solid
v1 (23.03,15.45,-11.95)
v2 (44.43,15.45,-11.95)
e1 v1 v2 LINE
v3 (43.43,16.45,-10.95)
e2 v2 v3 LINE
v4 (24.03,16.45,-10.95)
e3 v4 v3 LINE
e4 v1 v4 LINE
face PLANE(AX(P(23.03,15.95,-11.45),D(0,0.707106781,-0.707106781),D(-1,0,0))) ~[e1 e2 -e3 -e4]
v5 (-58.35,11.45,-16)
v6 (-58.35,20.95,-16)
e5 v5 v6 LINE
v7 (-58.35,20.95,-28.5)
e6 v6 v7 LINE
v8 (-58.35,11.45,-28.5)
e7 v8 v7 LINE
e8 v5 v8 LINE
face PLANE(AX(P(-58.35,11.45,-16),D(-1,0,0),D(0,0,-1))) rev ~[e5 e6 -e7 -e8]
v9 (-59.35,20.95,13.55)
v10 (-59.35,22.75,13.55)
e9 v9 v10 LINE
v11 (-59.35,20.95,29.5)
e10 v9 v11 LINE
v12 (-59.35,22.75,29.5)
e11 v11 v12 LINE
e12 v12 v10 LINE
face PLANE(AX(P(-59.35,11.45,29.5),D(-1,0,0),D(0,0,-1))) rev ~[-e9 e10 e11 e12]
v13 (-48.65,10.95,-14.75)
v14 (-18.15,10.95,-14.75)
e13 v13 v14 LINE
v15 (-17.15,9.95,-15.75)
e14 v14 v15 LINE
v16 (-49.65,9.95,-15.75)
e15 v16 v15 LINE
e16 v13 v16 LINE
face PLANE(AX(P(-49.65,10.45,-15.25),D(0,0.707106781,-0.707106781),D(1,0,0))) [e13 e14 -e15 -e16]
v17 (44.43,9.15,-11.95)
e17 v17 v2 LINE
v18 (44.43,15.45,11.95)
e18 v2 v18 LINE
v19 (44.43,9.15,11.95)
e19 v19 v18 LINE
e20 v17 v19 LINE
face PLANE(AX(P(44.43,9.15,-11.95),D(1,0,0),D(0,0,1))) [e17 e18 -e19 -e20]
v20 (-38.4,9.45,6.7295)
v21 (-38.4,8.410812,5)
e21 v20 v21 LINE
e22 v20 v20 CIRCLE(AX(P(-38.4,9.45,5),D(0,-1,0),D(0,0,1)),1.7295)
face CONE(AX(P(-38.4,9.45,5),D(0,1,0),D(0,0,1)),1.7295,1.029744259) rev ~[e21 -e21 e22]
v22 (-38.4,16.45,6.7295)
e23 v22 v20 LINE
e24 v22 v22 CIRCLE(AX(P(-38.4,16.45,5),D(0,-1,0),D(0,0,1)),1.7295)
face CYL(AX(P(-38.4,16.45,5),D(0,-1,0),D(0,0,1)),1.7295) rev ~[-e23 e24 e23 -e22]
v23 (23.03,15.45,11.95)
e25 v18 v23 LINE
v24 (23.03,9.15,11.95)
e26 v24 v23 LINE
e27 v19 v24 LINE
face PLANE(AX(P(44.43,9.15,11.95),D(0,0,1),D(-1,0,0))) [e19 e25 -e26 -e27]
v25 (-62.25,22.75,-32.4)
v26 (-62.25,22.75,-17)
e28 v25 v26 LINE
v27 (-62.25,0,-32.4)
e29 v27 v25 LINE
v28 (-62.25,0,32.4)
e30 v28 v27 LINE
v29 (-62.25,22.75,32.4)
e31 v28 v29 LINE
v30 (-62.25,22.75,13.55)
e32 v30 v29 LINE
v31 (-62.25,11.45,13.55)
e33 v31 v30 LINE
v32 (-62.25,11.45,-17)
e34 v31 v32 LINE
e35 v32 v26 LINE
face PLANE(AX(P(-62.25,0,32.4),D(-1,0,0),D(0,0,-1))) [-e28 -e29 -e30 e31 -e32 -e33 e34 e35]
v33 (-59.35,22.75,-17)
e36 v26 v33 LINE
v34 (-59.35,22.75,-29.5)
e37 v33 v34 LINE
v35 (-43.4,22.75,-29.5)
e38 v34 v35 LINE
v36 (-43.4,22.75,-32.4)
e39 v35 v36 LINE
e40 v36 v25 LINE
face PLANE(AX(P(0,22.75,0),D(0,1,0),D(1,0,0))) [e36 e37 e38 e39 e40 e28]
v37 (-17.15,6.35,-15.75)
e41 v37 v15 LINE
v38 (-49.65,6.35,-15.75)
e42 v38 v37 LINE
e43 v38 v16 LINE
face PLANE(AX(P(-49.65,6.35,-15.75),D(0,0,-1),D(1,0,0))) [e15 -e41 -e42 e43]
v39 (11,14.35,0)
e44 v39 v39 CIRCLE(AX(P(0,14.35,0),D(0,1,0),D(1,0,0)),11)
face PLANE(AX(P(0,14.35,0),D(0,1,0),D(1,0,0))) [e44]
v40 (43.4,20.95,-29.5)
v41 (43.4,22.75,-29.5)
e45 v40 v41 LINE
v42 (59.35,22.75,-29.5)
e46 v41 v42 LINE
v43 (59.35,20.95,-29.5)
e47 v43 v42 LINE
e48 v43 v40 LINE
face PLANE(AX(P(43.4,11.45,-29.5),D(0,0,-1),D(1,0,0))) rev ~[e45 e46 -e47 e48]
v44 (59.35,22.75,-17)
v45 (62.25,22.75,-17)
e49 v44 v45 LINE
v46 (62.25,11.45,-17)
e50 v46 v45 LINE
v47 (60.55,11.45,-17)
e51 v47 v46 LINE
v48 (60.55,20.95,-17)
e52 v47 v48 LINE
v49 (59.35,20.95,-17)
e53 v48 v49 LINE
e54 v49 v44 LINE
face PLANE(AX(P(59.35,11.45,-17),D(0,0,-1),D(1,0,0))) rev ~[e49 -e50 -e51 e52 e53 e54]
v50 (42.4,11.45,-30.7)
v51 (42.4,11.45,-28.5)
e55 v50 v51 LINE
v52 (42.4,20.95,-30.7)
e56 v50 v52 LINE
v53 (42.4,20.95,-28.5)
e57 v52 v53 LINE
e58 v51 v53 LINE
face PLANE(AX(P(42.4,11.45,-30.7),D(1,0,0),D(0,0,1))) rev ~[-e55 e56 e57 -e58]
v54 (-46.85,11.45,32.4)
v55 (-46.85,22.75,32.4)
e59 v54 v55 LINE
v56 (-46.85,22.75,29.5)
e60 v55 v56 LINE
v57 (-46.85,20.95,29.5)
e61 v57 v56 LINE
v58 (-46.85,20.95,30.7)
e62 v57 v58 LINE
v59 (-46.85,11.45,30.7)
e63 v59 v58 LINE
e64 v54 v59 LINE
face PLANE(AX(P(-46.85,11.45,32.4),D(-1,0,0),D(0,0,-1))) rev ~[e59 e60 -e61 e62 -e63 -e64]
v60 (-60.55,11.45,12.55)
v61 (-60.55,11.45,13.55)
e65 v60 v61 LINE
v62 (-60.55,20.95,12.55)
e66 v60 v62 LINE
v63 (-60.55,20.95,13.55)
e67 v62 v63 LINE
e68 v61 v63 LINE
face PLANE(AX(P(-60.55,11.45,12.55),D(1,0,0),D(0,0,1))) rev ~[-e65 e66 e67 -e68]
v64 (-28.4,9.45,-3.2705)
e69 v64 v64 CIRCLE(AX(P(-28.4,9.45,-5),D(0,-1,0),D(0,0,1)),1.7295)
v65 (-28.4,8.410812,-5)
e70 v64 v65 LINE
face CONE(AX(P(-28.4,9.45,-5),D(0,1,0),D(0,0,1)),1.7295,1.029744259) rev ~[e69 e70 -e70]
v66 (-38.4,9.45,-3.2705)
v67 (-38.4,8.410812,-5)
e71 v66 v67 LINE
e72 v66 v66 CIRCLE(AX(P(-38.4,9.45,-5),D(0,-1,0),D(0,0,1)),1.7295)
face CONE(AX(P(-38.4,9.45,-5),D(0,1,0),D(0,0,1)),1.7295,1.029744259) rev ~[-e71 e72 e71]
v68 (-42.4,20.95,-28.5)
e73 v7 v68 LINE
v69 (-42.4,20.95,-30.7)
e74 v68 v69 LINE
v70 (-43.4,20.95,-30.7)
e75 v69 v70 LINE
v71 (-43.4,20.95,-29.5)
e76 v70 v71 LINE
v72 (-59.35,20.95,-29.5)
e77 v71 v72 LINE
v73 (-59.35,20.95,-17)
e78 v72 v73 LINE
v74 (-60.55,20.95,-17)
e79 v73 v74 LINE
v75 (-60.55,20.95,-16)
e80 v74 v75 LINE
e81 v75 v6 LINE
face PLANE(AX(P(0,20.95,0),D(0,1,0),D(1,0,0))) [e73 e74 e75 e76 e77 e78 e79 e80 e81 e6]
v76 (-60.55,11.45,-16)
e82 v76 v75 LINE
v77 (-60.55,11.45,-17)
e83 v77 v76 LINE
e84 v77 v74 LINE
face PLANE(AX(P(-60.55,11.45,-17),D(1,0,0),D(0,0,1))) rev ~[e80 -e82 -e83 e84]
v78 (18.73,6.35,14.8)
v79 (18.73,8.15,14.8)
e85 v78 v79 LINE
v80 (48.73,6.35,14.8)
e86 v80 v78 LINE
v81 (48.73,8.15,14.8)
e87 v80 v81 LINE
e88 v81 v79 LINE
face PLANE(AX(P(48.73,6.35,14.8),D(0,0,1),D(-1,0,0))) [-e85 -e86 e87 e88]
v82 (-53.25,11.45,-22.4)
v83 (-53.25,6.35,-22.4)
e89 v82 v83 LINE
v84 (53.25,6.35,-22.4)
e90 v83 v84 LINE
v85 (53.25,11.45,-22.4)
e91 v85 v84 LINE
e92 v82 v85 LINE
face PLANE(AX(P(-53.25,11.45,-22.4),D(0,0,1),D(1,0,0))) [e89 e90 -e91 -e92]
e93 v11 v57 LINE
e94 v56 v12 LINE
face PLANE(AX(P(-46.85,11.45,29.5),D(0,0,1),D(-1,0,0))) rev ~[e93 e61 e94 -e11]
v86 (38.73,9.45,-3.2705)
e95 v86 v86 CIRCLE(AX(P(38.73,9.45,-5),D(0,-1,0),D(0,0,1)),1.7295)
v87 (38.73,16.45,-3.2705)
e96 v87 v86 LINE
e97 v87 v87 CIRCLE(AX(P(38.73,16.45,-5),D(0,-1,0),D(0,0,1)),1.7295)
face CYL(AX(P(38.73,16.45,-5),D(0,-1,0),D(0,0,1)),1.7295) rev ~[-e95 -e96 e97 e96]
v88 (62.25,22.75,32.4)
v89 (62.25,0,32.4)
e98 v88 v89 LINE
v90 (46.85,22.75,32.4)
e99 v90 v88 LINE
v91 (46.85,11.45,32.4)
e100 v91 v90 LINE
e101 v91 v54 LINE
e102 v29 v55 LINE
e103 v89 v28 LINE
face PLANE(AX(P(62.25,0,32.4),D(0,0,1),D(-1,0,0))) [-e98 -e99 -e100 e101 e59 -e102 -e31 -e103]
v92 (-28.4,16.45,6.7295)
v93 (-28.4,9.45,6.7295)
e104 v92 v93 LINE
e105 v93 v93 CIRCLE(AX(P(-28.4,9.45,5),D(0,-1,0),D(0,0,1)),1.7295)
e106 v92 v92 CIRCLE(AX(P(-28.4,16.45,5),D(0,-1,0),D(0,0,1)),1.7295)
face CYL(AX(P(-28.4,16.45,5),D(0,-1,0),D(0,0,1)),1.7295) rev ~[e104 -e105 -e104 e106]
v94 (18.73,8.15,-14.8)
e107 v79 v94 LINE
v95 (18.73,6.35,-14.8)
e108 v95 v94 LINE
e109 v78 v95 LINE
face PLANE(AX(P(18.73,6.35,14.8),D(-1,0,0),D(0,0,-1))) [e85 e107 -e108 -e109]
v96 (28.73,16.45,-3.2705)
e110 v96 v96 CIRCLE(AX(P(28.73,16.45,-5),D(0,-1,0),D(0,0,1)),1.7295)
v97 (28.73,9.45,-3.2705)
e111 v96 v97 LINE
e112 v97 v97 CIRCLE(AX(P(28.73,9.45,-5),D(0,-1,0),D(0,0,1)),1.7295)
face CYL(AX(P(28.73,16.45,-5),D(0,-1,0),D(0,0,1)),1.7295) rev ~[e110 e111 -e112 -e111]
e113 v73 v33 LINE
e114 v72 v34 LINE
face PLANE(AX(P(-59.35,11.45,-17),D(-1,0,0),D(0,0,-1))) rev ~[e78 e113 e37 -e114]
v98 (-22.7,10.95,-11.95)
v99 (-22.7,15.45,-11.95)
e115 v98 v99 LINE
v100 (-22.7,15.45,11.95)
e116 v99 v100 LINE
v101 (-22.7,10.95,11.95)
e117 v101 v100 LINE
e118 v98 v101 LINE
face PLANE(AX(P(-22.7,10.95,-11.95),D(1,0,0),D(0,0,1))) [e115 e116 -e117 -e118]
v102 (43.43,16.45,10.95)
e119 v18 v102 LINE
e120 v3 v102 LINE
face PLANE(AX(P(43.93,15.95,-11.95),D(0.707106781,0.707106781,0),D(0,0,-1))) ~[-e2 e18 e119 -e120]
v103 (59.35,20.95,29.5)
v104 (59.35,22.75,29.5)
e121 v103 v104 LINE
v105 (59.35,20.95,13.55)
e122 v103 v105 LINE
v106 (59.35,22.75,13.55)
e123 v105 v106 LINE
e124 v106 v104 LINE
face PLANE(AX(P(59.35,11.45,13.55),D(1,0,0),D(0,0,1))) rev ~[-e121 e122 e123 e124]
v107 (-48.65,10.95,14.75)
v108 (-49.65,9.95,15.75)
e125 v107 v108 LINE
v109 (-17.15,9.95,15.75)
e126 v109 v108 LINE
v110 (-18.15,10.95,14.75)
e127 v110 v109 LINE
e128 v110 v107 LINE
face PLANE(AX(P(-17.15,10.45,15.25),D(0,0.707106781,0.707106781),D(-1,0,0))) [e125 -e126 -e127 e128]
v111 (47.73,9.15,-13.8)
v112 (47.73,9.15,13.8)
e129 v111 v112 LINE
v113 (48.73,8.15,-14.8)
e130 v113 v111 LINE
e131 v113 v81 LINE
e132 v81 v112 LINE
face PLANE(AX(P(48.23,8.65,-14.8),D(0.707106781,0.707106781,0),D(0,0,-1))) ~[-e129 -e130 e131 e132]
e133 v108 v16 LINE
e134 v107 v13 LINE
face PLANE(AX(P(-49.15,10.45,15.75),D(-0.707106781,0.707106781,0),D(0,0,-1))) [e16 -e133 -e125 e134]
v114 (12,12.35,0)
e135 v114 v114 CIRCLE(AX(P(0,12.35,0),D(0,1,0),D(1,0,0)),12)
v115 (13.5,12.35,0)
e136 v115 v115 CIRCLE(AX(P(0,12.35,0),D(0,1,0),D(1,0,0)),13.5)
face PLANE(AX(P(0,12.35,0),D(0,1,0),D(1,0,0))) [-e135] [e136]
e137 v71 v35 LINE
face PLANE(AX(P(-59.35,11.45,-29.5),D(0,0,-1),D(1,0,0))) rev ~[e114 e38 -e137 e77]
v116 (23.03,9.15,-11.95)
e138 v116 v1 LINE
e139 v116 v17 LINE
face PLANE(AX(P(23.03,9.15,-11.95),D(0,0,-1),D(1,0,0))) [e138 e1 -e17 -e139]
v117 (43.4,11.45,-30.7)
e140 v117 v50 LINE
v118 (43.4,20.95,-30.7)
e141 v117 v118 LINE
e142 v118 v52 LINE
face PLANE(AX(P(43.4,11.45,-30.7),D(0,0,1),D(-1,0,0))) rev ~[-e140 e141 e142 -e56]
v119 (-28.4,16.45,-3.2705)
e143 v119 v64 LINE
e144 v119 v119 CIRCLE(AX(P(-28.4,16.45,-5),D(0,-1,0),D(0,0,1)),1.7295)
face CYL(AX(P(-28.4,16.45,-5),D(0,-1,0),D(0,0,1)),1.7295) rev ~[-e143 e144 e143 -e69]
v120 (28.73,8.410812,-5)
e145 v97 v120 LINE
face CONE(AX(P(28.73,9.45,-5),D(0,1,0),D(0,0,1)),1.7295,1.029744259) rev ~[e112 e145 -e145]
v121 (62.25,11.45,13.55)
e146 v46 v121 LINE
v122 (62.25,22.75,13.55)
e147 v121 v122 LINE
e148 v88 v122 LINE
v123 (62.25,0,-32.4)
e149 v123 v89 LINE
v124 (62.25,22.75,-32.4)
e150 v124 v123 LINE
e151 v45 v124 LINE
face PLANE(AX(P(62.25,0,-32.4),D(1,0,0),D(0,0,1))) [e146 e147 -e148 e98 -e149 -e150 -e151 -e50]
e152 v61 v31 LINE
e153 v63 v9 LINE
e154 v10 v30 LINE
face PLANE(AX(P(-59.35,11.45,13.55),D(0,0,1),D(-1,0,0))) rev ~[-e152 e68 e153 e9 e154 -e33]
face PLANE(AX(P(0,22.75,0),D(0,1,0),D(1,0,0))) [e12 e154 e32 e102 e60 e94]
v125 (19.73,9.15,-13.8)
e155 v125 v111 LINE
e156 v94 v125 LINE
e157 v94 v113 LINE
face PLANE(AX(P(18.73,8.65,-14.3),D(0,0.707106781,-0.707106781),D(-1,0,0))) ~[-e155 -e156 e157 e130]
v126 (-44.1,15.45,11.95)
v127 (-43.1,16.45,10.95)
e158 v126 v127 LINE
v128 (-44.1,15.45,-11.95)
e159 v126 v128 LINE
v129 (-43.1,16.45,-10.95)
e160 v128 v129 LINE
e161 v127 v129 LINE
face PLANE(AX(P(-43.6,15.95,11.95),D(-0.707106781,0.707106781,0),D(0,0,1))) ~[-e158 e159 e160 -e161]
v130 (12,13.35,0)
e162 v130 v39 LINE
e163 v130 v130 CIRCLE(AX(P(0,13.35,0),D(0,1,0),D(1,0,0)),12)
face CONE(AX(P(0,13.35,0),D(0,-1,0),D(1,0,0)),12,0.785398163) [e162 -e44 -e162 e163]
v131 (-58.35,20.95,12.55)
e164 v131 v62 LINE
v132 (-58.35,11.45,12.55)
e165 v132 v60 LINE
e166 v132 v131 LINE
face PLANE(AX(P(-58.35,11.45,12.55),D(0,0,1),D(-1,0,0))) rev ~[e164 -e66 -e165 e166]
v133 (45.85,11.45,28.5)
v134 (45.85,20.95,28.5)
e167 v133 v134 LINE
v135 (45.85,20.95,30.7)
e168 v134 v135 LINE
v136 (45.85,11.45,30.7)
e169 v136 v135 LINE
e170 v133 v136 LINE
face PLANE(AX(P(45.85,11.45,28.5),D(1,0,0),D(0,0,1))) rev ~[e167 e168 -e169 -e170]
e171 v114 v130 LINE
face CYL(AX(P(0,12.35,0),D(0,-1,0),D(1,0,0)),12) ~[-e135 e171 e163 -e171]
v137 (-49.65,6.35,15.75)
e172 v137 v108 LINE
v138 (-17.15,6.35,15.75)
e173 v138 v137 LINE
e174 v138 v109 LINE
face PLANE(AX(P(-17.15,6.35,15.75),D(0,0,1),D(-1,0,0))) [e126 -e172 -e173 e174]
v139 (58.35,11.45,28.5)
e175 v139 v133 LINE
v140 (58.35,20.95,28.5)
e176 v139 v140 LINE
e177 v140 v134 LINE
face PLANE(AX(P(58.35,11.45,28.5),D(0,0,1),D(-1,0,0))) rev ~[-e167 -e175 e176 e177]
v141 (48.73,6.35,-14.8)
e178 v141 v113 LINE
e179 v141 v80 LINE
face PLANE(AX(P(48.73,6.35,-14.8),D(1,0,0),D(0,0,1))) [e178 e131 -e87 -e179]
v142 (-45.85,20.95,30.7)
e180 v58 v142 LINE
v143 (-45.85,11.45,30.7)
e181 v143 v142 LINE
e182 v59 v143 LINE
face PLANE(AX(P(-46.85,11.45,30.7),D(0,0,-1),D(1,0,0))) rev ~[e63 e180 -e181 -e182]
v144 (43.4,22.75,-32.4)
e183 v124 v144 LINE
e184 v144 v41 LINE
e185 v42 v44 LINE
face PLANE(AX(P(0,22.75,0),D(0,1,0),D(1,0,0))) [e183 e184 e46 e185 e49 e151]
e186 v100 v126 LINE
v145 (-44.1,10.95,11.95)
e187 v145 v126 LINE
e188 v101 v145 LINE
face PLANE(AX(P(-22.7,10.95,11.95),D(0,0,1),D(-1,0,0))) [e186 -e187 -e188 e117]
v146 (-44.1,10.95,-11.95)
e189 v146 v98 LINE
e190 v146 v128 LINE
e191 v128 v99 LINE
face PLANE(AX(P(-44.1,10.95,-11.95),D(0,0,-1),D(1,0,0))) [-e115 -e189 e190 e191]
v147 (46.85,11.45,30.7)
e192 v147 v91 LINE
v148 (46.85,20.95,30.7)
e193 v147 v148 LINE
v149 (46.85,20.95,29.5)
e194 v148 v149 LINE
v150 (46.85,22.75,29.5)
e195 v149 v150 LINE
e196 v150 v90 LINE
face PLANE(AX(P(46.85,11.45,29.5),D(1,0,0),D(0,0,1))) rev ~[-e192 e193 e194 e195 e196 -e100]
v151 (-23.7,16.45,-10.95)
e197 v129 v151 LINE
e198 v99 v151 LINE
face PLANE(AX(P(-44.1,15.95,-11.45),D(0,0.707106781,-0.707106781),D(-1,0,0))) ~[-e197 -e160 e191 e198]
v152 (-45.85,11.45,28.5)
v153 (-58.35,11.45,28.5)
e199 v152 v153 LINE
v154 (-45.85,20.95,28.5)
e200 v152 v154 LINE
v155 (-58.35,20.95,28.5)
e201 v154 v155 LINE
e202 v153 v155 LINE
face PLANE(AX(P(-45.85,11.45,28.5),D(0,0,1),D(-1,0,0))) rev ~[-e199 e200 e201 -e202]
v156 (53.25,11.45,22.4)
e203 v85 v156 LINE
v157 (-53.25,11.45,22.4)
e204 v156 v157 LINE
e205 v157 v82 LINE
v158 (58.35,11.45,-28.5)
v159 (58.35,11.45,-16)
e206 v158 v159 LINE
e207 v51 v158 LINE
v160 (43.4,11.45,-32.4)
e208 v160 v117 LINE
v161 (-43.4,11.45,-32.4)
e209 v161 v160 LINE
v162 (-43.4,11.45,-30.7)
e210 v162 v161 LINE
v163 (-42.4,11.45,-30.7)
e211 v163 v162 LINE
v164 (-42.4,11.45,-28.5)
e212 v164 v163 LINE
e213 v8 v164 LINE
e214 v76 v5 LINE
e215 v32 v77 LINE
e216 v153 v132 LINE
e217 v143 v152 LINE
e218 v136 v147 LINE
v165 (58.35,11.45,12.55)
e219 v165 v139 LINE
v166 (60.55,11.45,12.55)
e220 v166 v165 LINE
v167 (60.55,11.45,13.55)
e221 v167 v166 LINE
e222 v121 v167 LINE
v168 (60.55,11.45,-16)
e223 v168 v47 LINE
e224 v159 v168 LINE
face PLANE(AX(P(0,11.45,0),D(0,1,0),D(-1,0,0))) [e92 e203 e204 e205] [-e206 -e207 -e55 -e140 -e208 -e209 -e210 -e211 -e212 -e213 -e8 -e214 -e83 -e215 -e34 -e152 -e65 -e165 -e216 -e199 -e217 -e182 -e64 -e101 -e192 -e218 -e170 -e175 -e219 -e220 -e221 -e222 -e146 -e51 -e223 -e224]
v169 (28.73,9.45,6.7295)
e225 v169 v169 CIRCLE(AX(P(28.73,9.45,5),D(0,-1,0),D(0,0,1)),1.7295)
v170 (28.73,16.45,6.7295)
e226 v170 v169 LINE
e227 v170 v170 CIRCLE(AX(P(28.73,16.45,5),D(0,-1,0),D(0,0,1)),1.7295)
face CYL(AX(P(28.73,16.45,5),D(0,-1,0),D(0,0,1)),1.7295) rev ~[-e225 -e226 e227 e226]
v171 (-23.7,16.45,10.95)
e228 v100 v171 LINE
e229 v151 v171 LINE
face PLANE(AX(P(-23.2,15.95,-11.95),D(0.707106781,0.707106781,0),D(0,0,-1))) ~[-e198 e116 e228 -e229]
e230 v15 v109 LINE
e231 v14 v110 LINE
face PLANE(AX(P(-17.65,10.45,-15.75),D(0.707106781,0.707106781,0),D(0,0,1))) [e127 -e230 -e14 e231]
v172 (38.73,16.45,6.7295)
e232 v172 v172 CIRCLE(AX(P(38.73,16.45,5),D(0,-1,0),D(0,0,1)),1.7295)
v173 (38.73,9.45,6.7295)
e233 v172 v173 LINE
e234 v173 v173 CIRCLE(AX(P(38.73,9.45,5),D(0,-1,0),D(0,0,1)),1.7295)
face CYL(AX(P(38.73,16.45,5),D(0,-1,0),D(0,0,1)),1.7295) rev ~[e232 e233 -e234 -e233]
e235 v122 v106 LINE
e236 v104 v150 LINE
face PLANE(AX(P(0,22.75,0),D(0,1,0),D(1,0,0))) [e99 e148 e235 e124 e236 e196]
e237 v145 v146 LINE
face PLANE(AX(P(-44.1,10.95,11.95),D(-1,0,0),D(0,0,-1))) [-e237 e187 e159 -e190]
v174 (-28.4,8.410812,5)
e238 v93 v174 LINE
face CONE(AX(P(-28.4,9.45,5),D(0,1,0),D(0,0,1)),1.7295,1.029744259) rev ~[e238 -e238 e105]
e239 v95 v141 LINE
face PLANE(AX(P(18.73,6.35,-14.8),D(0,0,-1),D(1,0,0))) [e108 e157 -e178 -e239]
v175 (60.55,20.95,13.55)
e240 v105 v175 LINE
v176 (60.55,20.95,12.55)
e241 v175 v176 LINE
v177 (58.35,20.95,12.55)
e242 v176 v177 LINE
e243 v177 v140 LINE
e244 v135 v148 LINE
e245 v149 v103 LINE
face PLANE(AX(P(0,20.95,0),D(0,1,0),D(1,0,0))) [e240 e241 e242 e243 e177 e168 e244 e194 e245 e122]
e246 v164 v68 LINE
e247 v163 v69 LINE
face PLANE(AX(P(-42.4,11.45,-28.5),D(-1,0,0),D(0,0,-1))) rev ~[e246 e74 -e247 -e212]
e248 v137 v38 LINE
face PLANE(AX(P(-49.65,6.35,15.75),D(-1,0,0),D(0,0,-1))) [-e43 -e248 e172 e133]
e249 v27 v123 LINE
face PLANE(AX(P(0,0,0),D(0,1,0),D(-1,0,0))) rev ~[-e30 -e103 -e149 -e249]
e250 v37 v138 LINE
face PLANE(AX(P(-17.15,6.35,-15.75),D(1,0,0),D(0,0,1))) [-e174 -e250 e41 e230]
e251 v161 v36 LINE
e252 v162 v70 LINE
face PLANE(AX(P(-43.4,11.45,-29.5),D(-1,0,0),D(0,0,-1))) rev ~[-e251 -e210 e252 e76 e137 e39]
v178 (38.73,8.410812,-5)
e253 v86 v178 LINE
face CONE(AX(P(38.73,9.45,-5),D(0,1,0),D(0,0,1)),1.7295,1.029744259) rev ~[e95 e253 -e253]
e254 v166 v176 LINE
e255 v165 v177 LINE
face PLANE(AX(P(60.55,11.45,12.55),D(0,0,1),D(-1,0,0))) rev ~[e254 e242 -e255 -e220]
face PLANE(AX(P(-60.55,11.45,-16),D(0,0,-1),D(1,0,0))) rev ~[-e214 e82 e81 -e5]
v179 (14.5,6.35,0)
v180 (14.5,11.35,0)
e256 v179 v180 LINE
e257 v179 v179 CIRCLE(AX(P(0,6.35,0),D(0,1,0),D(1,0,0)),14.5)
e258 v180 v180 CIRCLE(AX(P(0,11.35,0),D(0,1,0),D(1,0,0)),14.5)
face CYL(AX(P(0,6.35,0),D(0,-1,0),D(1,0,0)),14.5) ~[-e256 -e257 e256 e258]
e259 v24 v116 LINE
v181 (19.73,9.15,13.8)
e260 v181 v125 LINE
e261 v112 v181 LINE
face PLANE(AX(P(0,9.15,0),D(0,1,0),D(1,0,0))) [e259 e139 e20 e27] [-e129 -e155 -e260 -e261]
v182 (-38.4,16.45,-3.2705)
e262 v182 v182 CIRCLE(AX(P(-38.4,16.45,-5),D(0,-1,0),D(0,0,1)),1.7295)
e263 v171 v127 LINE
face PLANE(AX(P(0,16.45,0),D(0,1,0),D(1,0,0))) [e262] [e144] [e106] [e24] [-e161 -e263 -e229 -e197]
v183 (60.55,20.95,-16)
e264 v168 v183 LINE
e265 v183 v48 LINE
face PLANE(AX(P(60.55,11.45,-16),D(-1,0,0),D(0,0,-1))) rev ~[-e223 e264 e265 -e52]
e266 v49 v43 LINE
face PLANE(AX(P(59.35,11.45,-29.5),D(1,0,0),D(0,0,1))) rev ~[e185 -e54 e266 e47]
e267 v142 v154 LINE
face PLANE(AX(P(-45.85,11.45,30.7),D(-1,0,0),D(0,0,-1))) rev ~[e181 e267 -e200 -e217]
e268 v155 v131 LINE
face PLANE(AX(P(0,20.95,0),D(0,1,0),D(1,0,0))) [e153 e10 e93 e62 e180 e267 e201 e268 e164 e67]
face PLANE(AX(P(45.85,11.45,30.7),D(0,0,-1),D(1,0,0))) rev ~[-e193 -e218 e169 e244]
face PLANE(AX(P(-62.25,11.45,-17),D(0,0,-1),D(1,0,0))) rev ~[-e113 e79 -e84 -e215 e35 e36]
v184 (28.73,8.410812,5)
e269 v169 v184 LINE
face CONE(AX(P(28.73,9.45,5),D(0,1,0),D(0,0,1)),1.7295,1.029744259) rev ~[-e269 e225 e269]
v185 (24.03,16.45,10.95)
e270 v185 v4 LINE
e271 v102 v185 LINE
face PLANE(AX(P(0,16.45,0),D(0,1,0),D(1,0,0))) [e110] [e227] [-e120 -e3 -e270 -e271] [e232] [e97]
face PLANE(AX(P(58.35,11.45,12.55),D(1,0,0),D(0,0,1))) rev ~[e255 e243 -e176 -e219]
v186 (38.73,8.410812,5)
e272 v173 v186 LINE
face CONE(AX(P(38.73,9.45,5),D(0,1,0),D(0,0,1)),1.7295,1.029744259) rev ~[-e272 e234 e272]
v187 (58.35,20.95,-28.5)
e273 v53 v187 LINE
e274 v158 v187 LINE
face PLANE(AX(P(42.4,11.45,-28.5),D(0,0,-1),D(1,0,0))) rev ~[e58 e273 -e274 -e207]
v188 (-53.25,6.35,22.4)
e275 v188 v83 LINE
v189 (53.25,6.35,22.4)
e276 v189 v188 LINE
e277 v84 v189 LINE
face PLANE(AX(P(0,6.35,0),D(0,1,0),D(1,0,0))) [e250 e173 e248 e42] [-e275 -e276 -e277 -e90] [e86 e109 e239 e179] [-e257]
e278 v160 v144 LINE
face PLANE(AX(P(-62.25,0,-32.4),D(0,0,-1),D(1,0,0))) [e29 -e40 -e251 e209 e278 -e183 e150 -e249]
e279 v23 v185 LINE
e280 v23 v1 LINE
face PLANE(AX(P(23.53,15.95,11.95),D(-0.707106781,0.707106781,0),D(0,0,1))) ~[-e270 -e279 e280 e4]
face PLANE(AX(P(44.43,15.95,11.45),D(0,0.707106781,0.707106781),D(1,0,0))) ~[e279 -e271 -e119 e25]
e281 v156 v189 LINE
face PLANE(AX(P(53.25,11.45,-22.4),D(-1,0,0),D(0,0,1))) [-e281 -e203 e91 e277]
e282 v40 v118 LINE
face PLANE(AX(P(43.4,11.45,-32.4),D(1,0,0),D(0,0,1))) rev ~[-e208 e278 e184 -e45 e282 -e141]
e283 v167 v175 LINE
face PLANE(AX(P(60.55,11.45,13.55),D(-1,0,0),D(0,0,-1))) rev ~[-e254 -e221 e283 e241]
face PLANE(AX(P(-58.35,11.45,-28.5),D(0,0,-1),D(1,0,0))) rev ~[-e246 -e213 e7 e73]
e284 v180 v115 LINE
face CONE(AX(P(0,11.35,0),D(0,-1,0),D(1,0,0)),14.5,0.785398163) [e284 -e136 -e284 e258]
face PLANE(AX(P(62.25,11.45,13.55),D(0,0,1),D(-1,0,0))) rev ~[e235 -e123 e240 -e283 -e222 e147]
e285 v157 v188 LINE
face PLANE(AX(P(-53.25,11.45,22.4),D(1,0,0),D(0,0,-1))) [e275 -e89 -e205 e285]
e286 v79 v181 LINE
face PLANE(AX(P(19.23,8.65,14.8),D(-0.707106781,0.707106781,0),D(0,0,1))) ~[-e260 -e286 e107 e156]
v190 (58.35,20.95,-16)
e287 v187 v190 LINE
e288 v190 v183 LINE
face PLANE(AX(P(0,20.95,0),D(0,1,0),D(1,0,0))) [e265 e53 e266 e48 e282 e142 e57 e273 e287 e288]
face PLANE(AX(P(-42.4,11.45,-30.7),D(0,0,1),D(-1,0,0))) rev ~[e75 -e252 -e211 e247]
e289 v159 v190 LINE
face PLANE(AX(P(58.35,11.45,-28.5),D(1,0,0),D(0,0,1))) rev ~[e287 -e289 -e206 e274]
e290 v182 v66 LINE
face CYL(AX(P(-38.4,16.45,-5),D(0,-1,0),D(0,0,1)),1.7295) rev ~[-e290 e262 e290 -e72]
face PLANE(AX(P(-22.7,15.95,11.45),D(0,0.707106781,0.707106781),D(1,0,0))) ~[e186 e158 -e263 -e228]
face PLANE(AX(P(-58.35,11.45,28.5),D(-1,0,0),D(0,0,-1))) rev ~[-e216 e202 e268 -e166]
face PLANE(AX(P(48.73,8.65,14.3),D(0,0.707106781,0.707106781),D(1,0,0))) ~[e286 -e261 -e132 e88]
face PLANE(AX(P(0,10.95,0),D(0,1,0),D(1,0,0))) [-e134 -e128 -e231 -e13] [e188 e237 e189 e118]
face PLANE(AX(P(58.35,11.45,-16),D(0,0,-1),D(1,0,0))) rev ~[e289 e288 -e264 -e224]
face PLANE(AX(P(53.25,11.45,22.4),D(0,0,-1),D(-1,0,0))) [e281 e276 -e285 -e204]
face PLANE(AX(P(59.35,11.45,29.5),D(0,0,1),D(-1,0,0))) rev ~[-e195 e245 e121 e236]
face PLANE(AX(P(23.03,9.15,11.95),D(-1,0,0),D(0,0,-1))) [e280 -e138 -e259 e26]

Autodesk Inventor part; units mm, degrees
ref_plane "YZ Plane" through (0, 0, 0) normal (1, 0, 0) x (0, 1, 0)
ref_plane "XZ Plane" through (0, 0, 0) normal (0, 1, 0) x (-1, 0, 0)
ref_plane "XY Plane" through (0, 0, 0) normal (0, 0, 1) x (1, 0, 0)
sketch "Sketch1" plane through (0, 0, 0) normal (0, 1, 0) x (-1, 0, 0)
  line L0 (62.25, -32.4) -> (-62.25, -32.4)
  line L1 (-62.25, -32.4) -> (-62.25, 32.4)
  line L2 (-62.25, 32.4) -> (62.25, 32.4)
  line L3 (62.25, 32.4) -> (62.25, -32.4)
  point P0 (0, 0)
  point P1 (62.25, 0)
  point P2 (0, -32.4)
  dimension "d0" = 64.8
  dimension "d2" = 124.5
extrude "Extrusion1" add sketch "Sketch1" along normal blind 11.45
sketch "Sketch2" plane through (0, 11.45, 0) normal (0, 1, 0) x (1, 0, 0)
  line L0 (62.25, 32.4) -> (-62.25, 32.4) projected
  line L1 (-62.25, 32.4) -> (-62.25, -32.4) projected
  line L2 (-62.25, -32.4) -> (62.25, -32.4) projected
  line L3 (62.25, -32.4) -> (62.25, 32.4) projected
  line L4 (-62.25, -13.55) -> (-62.25, -32.4)
  line L5 (-62.25, -32.4) -> (-46.85, -32.4)
  line L6 (-46.85, -32.4) -> (-46.85, -29.5)
  line L7 (-46.85, -29.5) -> (-59.35, -29.5)
  line L8 (-59.35, -29.5) -> (-59.35, -13.55)
  line L9 (-59.35, -13.55) -> (-62.25, -13.55)
  line L10 (62.25, -13.55) -> (59.35, -13.55)
  line L11 (59.35, -13.55) -> (59.35, -29.5)
  line L12 (59.35, -29.5) -> (46.85, -29.5)
  line L13 (46.85, -29.5) -> (46.85, -32.4)
  line L14 (62.25, -32.4) -> (62.25, -13.55)
  line L15 (46.85, -32.4) -> (62.25, -32.4)
  line L16 (43.4, 32.4) -> (43.4, 29.5)
  line L17 (43.4, 29.5) -> (59.35, 29.5)
  line L18 (62.25, 32.4) -> (43.4, 32.4)
  line L19 (59.35, 29.5) -> (59.35, 17)
  line L20 (59.35, 17) -> (62.25, 17)
  line L21 (62.25, 17) -> (62.25, 32.4)
  line L22 (-62.25, 17) -> (-59.35, 17)
  line L23 (-59.35, 17) -> (-59.35, 29.5)
  line L24 (-59.35, 29.5) -> (-43.4, 29.5)
  line L25 (-43.4, 29.5) -> (-43.4, 32.4)
  line L26 (-62.25, 32.4) -> (-62.25, 17)
  line L27 (-43.4, 32.4) -> (-62.25, 32.4)
  point P0 (0, 0)
  dimension "d5" = 18.85
  dimension "d7" = 15.4
  dimension "d8" = 2.9
  dimension "d9" = 2.9
  dimension "d10" = 18.85
  dimension "d11" = 2.9
  dimension "d12" = 2.9
  dimension "d13" = 15.4
  dimension "d21" = 15.4
  dimension "d22" = 18.85
  dimension "d23" = 2.9
  dimension "d24" = 2.9
  dimension "d28" = 15.4
  dimension "d29" = 2.9
  dimension "d30" = 2.9
  dimension "d31" = 18.85
extrude "Extrusion2" add sketch "Sketch2" along normal blind 11.3 contours L3 L20 L19 L17 L16 L0 | L25 L24 L23 L22 L1 L0 | L3 L2 L13 L12 L11 L10 | L9 L8 L7 L6 L2 L1
sketch "Sketch3" plane through (0, 11.45, 0) normal (0, 1, 0) x (1, 0, 0)
  line L0 (43.4, 32.4) -> (-43.4, 32.4) projected
  line L1 (-62.25, 17) -> (-62.25, -13.55) projected
  line L2 (-46.85, -32.4) -> (46.85, -32.4) projected
  line L3 (62.25, -13.55) -> (62.25, 17) projected
  line L4 (-53.25, 22.4) -> (53.25, 22.4)
  line L5 (53.25, 22.4) -> (53.25, -22.4)
  line L6 (53.25, -22.4) -> (-53.25, -22.4)
  line L7 (-53.25, -22.4) -> (-53.25, 22.4)
  point P0 (0, 0)
  dimension "d41" = 9
  dimension "d42" = 9
  dimension "d43" = 10
  dimension "d44" = 10
extrude "Extrusion3" cut sketch "Sketch3" against normal blind 5.1
sketch "Sketch4" plane through (0, 6.35, 0) normal (0, 1, 0) x (1, 0, 0)
  line L0 (-53.25, -22.4) -> (-53.25, 22.4) projected
  line L1 (-49.65, 15.75) -> (-17.15, 15.75)
  line L2 (-17.15, 15.75) -> (-17.15, -15.75)
  line L3 (-17.15, -15.75) -> (-49.65, -15.75)
  line L4 (-49.65, -15.75) -> (-49.65, 15.75)
  line L5 (43.4, 32.4) -> (-43.4, 32.4) projected
  point P0 (0, 0)
  dimension "d47" = 32.5
  dimension "d49" = 31.5
  dimension "d50" = 16.65
  dimension "d51" = 3.6
extrude "Extrusion4" add sketch "Sketch4" along normal blind 4.6
sketch "Sketch5" plane through (0, 10.95, 0) normal (0, 1, 0) x (1, 0, 0)
  line L0 (-17.15, 15.75) -> (-49.65, 15.75) projected
  line L1 (-49.65, 15.75) -> (-49.65, -15.75) projected
  line L2 (-44.1, 11.95) -> (-22.7, 11.95)
  line L3 (-22.7, 11.95) -> (-22.7, -11.95)
  line L4 (-22.7, -11.95) -> (-44.1, -11.95)
  line L5 (-44.1, -11.95) -> (-44.1, 11.95)
  point P0 (0, 0)
  point P1 (-33.4, 11.95)
  point P2 (-33.4, 15.75)
  point P3 (-44.1, 0)
  point P4 (-49.65, 0)
  dimension "d54" = 21.4
  dimension "d56" = 23.9
extrude "Extrusion5" add sketch "Sketch5" along normal blind 5.5
sketch "Sketch6" plane through (0, 6.35, 0) normal (0, 1, 0) x (1, 0, 0)
  line L0 (53.25, 22.4) -> (53.25, -22.4) projected
  line L1 (18.73, 14.8) -> (48.73, 14.8)
  line L2 (48.73, 14.8) -> (48.73, -14.8)
  line L3 (48.73, -14.8) -> (18.73, -14.8)
  line L4 (18.73, -14.8) -> (18.73, 14.8)
  point P0 (0, 0)
  point P1 (18.73, 0)
  dimension "d59" = 29.6
  dimension "d61" = 30
  dimension "d62" = 4.52
extrude "Extrusion6" add sketch "Sketch6" along normal blind 2.8
sketch "Sketch7" plane through (0, 9.15, 0) normal (0, 1, 0) x (1, 0, 0)
  line L0 (48.73, 14.8) -> (18.73, 14.8) projected
  line L1 (18.73, 14.8) -> (18.73, -14.8) projected
  line L2 (23.03, 11.95) -> (44.43, 11.95)
  line L3 (44.43, 11.95) -> (44.43, -11.95)
  line L4 (44.43, -11.95) -> (23.03, -11.95)
  line L5 (23.03, -11.95) -> (23.03, 11.95)
  point P0 (0, 0)
  point P1 (23.03, 0)
  point P2 (18.73, 0)
  point P3 (33.73, 11.95)
  point P4 (33.73, 14.8)
  dimension "d65" = 21.4
  dimension "d67" = 23.9
extrude "Extrusion7" add sketch "Sketch7" along normal blind 7.3
sketch "Sketch8" plane through (0, 11.45, 0) normal (0, 1, 0) x (1, 0, 0)
  line L0 (62.25, -13.55) -> (62.25, 17) projected
  line L1 (-60.55, -12.55) -> (-60.55, -13.55)
  line L2 (-60.55, -13.55) -> (-59.35, -13.55)
  line L3 (-59.35, -13.55) -> (-59.35, -29.5)
  line L4 (-59.35, -29.5) -> (-46.85, -29.5)
  line L5 (-46.85, -29.5) -> (-46.85, -30.7)
  line L6 (-46.85, -30.7) -> (-45.85, -30.7)
  line L7 (-45.85, -30.7) -> (-45.85, -28.5)
  line L8 (-45.85, -28.5) -> (-58.35, -28.5)
  line L9 (-58.35, -28.5) -> (-58.35, -12.55)
  line L10 (-58.35, -12.55) -> (-60.55, -12.55)
  line L11 (-59.35, -13.55) -> (-62.25, -13.55) projected
  line L12 (-59.35, -29.5) -> (-59.35, -13.55) projected
  line L13 (-46.85, -29.5) -> (-59.35, -29.5) projected
  line L14 (-46.85, -32.4) -> (-46.85, -29.5) projected
  line L15 (60.55, 16) -> (60.55, 17)
  line L16 (60.55, 17) -> (59.35, 17)
  line L17 (59.35, 17) -> (59.35, 29.5)
  line L18 (59.35, 29.5) -> (43.4, 29.5)
  line L19 (43.4, 29.5) -> (43.4, 30.7)
  line L20 (43.4, 30.7) -> (42.4, 30.7)
  line L21 (42.4, 30.7) -> (42.4, 28.5)
  line L22 (42.4, 28.5) -> (58.35, 28.5)
  line L23 (58.35, 28.5) -> (58.35, 16)
  line L24 (58.35, 16) -> (60.55, 16)
  line L25 (43.4, 29.5) -> (59.35, 29.5) projected
  line L26 (59.35, 29.5) -> (59.35, 17) projected
  line L27 (59.35, 17) -> (62.25, 17) projected
  line L28 (43.4, 32.4) -> (43.4, 29.5) projected
  line L29 (-60.55, 16) -> (-58.35, 16)
  line L30 (-58.35, 16) -> (-58.35, 28.5)
  line L31 (-58.35, 28.5) -> (-42.4, 28.5)
  line L32 (-42.4, 28.5) -> (-42.4, 30.7)
  line L33 (-42.4, 30.7) -> (-43.4, 30.7)
  line L34 (-43.4, 30.7) -> (-43.4, 29.5)
  line L35 (-43.4, 29.5) -> (-59.35, 29.5)
  line L36 (-59.35, 29.5) -> (-59.35, 17)
  line L37 (-59.35, 17) -> (-60.55, 17)
  line L38 (-60.55, 17) -> (-60.55, 16)
  line L39 (-59.35, 29.5) -> (-43.4, 29.5) projected
  line L40 (-59.35, 17) -> (-59.35, 29.5) projected
  line L41 (-43.4, 29.5) -> (-43.4, 32.4) projected
  line L42 (-62.25, 17) -> (-59.35, 17) projected
  line L43 (60.55, -12.55) -> (58.35, -12.55)
  line L44 (58.35, -12.55) -> (58.35, -28.5)
  line L45 (58.35, -28.5) -> (45.85, -28.5)
  line L46 (45.85, -28.5) -> (45.85, -30.7)
  line L47 (45.85, -30.7) -> (46.85, -30.7)
  line L48 (46.85, -30.7) -> (46.85, -29.5)
  line L49 (46.85, -29.5) -> (59.35, -29.5)
  line L50 (59.35, -29.5) -> (59.35, -13.55)
  line L51 (59.35, -13.55) -> (60.55, -13.55)
  line L52 (60.55, -13.55) -> (60.55, -12.55)
  line L53 (59.35, -13.55) -> (59.35, -29.5) projected
  line L54 (62.25, -13.55) -> (59.35, -13.55) projected
  line L55 (59.35, -29.5) -> (46.85, -29.5) projected
  line L56 (46.85, -29.5) -> (46.85, -32.4) projected
  point P0 (0, 0)
  dimension "d70" = 1
  dimension "d72" = 1
  dimension "d73" = 1
  dimension "d74" = 1
  dimension "d76" = 2.2
  dimension "d77" = 2.2
  dimension "d78" = 1
  dimension "d79" = 1
  dimension "d80" = 1
  dimension "d81" = 1
  dimension "d82" = 2.2
  dimension "d83" = 2.2
  dimension "d86" = 2.2
  dimension "d87" = 1
  dimension "d88" = 1
  dimension "d89" = 1
  dimension "d90" = 1
  dimension "d91" = 2.2
  dimension "d92" = 2.2
  dimension "d93" = 1
  dimension "d94" = 1
  dimension "d95" = 1
  dimension "d96" = 1
  dimension "d97" = 2.2
extrude "Extrusion8" add sketch "Sketch8" along normal blind 9.5
sketch "Sketch10" plane through (0, 6.35, 0) normal (0, 1, 0) x (1, 0, 0)
  circle A0 centre (0, 0) radius 14.5
  dimension "d133" = 29
extrude "Extrusion10" add sketch "Sketch10" along normal blind 6
sketch "Sketch11" plane through (0, 12.35, 0) normal (0, 1, 0) x (1, 0, 0)
  circle A0 centre (0, 0) radius 12
  dimension "d137" = 24
extrude "Extrusion11" add sketch "Sketch11" along normal blind 2
chamfer "Chamfer1" distance 1 angle 45 4 edges at (44.43, 16.45, 0) (33.73, 16.45, 11.95) (23.03, 16.45, 0) (33.73, 16.45, -11.95)
chamfer "Chamfer2" distance 1 angle 45 4 edges at (-33.4, 16.45, -11.95) (-44.1, 16.45, 0) (-33.4, 16.45, 11.95) (-22.7, 16.45, 0)
chamfer "Chamfer3" distance 1 angle 45 4 edges at (-33.4, 10.95, 15.75) (-49.65, 10.95, 0) (-33.4, 10.95, -15.75) (-17.15, 10.95, 0)
chamfer "Chamfer4" distance 1 angle 45 4 edges at (33.73, 9.15, -14.8) (18.73, 9.15, 0) (33.73, 9.15, 14.8) (48.73, 9.15, 0)
sketch "Sketch12" plane through (0, 16.45, 0) normal (0, 1, 0) x (1, 0, 0)
  line L0 (23.03, 11.95) -> (23.03, -11.95) projected
  point P0 (0, 0)
  point P1 (38.73, -5)
  point P2 (28.73, -5)
  point P3 (28.73, 5)
  point P4 (38.73, 5)
  point P5 (-38.1211, 5.7215)
  point P6 (-28.8217, 5.7215)
  point P7 (-28.8217, -4.174)
  point P8 (-38.1211, -5)
  dimension "d153" = 10
  dimension "d155" = 10
  dimension "d157" = 5
  dimension "d159" = 5.7
hole "Hole1" at (38.73, 16.45, 5) at (28.73, 16.45, 5) at (28.73, 16.45, -5) at (38.73, 16.45, -5) direction (0, -1, 0) diameter 3.459 depth 7 tip angle 118 thread size "M4x0.5" class "6H" standard "ISO Metric profile"
sketch "Sketch14" plane through (0, 16.45, 0) normal (0, 1, 0) x (1, 0, 0)
  line L0 (-44.1, 11.95) -> (-44.1, -11.95) projected
  point P0 (0, 0)
  point P1 (-38.4, 5)
  point P2 (-28.4, 5)
  point P3 (-28.4, -5)
  point P4 (-38.4, -5)
  dimension "d167" = 10
  dimension "d169" = 10
  dimension "d170" = 5
  dimension "d171" = 5.7
hole "Hole2" at (-38.4, 16.45, -5) at (-28.4, 16.45, -5) at (-28.4, 16.45, 5) at (-38.4, 16.45, 5) direction (0, -1, 0) diameter 3.459 depth 7 tip angle 118 thread size "M4x0.5" class "6H" standard "ISO Metric profile"
chamfer "Chamfer5" distance 1 angle 45 2 edges at (-12, 14.35, 0) (-14.5, 12.35, 0)
equation "\"d0\" = BtDp"
equation "\"d2\" = BtWd"
equation "\"d3\" = ModHt"
equation "\"d5\" = TopOutSh"
equation "\"d7\" = TopOutLn"
equation "\"d8\" = TopOutDp"
equation "\"d9\" = d8"
equation "\"d10\" = d5"
equation "\"d11\" = d9"
equation "\"d12\" = d9"
equation "\"d13\" = d7"
equation "\"d21\" = d25"
equation "\"d22\" = d26"
equation "\"d23\" = d27"
equation "\"d24\" = d23"
equation "\"d28\" = d32"
equation "\"d29\" = d33"
equation "\"d30\" = d33"
equation "\"d31\" = d34"
equation "\"d39\" = TopHoldHt"
equation "\"d41\" = LedgeSh"
equation "\"d42\" = d41"
equation "\"d43\" = LedgeLn"
equation "\"d44\" = d43"
equation "\"d45\" = InPdDp"
equation "\"d47\" = RedLeadPedesWd"
equation "\"d49\" = RedLeadPedesDp"
equation "\"d50\" = 0.5 * BtDp - 0.5 * RedLeadPedesDp"
equation "\"d51\" = RedLeadPedesGap"
equation "\"d52\" = RedLeadPedesHt"
equation "\"d54\" = RedLeadWd"
equation "\"d56\" = RedLeadDp"
equation "\"d57\" = RedLeadHt"
equation "\"d59\" = CyanLeadPedesWd"
equation "\"d61\" = CyanLeadPedesDp"
equation "\"d62\" = CyanLeadPedesGap"
equation "\"d63\" = CyanLeadPedesHt"
equation "\"d65\" = CyanLeadWd"
equation "\"d67\" = CyanLeadDp"
equation "\"d68\" = CyanLeadHt"
equation "\"d70\" = InCapHldWd"
equation "\"d72\" = d70"
equation "\"d73\" = d70"
equation "\"d74\" = d73"
equation "\"d76\" = InCapHldDp"
equation "\"d77\" = d76"
equation "\"d78\" = d84"
equation "\"d79\" = d78"
equation "\"d80\" = d78"
equation "\"d81\" = d80"
equation "\"d82\" = d85"
equation "\"d83\" = d82"
equation "\"d32\" = d35"
equation "\"d33\" = d36"
equation "\"d34\" = d37"
equation "\"d36\" = d38"
equation "\"BtDp\" = 64.8"
equation "\"BtWd\" = 124.5"
equation "\"ModHt\" = 11.45"
equation "\"TopOutSh\" = 18.85"
equation "\"TopOutLn\" = 15.4"
equation "\"TopOutDp\" = 2.9"
equation "\"d25\" = 15.4"
equation "\"d26\" = 18.85"
equation "\"d27\" = 2.9"
equation "\"TopHoldHt\" = 11.3"
equation "\"LedgeSh\" = 9"
equation "\"LedgeLn\" = 10"
equation "\"InPdDp\" = 5.1"
equation "\"RedLeadPedesWd\" = 32.5"
equation "\"RedLeadPedesDp\" = 31.5"
equation "\"RedLeadPedesGap\" = 3.6"
equation "\"RedLeadPedesHt\" = 4.6"
equation "\"RedLeadWd\" = 21.4"
equation "\"RedLeadDp\" = 23.9"
equation "\"RedLeadHt\" = 5.5"
equation "\"CyanLeadPedesWd\" = 29.6"
equation "\"CyanLeadPedesDp\" = 30"
equation "\"CyanLeadPedesGap\" = 4.52"
equation "\"CyanLeadPedesHt\" = 2.8"
equation "\"CyanLeadWd\" = 21.4"
equation "\"CyanLeadDp\" = 23.9"
equation "\"CyanLeadHt\" = 7.3"
equation "\"InCapHldWd\" = 1"
equation "\"InCapHldDp\" = 2.2"
equation "\"d84\" = 1"
equation "\"d85\" = 2.2"
equation "\"d35\" = 15.4"
equation "\"d37\" = 18.85"
equation "\"d38\" = 2.9"
properties part number "batteryCellTop" material "Aluminum 6061"
